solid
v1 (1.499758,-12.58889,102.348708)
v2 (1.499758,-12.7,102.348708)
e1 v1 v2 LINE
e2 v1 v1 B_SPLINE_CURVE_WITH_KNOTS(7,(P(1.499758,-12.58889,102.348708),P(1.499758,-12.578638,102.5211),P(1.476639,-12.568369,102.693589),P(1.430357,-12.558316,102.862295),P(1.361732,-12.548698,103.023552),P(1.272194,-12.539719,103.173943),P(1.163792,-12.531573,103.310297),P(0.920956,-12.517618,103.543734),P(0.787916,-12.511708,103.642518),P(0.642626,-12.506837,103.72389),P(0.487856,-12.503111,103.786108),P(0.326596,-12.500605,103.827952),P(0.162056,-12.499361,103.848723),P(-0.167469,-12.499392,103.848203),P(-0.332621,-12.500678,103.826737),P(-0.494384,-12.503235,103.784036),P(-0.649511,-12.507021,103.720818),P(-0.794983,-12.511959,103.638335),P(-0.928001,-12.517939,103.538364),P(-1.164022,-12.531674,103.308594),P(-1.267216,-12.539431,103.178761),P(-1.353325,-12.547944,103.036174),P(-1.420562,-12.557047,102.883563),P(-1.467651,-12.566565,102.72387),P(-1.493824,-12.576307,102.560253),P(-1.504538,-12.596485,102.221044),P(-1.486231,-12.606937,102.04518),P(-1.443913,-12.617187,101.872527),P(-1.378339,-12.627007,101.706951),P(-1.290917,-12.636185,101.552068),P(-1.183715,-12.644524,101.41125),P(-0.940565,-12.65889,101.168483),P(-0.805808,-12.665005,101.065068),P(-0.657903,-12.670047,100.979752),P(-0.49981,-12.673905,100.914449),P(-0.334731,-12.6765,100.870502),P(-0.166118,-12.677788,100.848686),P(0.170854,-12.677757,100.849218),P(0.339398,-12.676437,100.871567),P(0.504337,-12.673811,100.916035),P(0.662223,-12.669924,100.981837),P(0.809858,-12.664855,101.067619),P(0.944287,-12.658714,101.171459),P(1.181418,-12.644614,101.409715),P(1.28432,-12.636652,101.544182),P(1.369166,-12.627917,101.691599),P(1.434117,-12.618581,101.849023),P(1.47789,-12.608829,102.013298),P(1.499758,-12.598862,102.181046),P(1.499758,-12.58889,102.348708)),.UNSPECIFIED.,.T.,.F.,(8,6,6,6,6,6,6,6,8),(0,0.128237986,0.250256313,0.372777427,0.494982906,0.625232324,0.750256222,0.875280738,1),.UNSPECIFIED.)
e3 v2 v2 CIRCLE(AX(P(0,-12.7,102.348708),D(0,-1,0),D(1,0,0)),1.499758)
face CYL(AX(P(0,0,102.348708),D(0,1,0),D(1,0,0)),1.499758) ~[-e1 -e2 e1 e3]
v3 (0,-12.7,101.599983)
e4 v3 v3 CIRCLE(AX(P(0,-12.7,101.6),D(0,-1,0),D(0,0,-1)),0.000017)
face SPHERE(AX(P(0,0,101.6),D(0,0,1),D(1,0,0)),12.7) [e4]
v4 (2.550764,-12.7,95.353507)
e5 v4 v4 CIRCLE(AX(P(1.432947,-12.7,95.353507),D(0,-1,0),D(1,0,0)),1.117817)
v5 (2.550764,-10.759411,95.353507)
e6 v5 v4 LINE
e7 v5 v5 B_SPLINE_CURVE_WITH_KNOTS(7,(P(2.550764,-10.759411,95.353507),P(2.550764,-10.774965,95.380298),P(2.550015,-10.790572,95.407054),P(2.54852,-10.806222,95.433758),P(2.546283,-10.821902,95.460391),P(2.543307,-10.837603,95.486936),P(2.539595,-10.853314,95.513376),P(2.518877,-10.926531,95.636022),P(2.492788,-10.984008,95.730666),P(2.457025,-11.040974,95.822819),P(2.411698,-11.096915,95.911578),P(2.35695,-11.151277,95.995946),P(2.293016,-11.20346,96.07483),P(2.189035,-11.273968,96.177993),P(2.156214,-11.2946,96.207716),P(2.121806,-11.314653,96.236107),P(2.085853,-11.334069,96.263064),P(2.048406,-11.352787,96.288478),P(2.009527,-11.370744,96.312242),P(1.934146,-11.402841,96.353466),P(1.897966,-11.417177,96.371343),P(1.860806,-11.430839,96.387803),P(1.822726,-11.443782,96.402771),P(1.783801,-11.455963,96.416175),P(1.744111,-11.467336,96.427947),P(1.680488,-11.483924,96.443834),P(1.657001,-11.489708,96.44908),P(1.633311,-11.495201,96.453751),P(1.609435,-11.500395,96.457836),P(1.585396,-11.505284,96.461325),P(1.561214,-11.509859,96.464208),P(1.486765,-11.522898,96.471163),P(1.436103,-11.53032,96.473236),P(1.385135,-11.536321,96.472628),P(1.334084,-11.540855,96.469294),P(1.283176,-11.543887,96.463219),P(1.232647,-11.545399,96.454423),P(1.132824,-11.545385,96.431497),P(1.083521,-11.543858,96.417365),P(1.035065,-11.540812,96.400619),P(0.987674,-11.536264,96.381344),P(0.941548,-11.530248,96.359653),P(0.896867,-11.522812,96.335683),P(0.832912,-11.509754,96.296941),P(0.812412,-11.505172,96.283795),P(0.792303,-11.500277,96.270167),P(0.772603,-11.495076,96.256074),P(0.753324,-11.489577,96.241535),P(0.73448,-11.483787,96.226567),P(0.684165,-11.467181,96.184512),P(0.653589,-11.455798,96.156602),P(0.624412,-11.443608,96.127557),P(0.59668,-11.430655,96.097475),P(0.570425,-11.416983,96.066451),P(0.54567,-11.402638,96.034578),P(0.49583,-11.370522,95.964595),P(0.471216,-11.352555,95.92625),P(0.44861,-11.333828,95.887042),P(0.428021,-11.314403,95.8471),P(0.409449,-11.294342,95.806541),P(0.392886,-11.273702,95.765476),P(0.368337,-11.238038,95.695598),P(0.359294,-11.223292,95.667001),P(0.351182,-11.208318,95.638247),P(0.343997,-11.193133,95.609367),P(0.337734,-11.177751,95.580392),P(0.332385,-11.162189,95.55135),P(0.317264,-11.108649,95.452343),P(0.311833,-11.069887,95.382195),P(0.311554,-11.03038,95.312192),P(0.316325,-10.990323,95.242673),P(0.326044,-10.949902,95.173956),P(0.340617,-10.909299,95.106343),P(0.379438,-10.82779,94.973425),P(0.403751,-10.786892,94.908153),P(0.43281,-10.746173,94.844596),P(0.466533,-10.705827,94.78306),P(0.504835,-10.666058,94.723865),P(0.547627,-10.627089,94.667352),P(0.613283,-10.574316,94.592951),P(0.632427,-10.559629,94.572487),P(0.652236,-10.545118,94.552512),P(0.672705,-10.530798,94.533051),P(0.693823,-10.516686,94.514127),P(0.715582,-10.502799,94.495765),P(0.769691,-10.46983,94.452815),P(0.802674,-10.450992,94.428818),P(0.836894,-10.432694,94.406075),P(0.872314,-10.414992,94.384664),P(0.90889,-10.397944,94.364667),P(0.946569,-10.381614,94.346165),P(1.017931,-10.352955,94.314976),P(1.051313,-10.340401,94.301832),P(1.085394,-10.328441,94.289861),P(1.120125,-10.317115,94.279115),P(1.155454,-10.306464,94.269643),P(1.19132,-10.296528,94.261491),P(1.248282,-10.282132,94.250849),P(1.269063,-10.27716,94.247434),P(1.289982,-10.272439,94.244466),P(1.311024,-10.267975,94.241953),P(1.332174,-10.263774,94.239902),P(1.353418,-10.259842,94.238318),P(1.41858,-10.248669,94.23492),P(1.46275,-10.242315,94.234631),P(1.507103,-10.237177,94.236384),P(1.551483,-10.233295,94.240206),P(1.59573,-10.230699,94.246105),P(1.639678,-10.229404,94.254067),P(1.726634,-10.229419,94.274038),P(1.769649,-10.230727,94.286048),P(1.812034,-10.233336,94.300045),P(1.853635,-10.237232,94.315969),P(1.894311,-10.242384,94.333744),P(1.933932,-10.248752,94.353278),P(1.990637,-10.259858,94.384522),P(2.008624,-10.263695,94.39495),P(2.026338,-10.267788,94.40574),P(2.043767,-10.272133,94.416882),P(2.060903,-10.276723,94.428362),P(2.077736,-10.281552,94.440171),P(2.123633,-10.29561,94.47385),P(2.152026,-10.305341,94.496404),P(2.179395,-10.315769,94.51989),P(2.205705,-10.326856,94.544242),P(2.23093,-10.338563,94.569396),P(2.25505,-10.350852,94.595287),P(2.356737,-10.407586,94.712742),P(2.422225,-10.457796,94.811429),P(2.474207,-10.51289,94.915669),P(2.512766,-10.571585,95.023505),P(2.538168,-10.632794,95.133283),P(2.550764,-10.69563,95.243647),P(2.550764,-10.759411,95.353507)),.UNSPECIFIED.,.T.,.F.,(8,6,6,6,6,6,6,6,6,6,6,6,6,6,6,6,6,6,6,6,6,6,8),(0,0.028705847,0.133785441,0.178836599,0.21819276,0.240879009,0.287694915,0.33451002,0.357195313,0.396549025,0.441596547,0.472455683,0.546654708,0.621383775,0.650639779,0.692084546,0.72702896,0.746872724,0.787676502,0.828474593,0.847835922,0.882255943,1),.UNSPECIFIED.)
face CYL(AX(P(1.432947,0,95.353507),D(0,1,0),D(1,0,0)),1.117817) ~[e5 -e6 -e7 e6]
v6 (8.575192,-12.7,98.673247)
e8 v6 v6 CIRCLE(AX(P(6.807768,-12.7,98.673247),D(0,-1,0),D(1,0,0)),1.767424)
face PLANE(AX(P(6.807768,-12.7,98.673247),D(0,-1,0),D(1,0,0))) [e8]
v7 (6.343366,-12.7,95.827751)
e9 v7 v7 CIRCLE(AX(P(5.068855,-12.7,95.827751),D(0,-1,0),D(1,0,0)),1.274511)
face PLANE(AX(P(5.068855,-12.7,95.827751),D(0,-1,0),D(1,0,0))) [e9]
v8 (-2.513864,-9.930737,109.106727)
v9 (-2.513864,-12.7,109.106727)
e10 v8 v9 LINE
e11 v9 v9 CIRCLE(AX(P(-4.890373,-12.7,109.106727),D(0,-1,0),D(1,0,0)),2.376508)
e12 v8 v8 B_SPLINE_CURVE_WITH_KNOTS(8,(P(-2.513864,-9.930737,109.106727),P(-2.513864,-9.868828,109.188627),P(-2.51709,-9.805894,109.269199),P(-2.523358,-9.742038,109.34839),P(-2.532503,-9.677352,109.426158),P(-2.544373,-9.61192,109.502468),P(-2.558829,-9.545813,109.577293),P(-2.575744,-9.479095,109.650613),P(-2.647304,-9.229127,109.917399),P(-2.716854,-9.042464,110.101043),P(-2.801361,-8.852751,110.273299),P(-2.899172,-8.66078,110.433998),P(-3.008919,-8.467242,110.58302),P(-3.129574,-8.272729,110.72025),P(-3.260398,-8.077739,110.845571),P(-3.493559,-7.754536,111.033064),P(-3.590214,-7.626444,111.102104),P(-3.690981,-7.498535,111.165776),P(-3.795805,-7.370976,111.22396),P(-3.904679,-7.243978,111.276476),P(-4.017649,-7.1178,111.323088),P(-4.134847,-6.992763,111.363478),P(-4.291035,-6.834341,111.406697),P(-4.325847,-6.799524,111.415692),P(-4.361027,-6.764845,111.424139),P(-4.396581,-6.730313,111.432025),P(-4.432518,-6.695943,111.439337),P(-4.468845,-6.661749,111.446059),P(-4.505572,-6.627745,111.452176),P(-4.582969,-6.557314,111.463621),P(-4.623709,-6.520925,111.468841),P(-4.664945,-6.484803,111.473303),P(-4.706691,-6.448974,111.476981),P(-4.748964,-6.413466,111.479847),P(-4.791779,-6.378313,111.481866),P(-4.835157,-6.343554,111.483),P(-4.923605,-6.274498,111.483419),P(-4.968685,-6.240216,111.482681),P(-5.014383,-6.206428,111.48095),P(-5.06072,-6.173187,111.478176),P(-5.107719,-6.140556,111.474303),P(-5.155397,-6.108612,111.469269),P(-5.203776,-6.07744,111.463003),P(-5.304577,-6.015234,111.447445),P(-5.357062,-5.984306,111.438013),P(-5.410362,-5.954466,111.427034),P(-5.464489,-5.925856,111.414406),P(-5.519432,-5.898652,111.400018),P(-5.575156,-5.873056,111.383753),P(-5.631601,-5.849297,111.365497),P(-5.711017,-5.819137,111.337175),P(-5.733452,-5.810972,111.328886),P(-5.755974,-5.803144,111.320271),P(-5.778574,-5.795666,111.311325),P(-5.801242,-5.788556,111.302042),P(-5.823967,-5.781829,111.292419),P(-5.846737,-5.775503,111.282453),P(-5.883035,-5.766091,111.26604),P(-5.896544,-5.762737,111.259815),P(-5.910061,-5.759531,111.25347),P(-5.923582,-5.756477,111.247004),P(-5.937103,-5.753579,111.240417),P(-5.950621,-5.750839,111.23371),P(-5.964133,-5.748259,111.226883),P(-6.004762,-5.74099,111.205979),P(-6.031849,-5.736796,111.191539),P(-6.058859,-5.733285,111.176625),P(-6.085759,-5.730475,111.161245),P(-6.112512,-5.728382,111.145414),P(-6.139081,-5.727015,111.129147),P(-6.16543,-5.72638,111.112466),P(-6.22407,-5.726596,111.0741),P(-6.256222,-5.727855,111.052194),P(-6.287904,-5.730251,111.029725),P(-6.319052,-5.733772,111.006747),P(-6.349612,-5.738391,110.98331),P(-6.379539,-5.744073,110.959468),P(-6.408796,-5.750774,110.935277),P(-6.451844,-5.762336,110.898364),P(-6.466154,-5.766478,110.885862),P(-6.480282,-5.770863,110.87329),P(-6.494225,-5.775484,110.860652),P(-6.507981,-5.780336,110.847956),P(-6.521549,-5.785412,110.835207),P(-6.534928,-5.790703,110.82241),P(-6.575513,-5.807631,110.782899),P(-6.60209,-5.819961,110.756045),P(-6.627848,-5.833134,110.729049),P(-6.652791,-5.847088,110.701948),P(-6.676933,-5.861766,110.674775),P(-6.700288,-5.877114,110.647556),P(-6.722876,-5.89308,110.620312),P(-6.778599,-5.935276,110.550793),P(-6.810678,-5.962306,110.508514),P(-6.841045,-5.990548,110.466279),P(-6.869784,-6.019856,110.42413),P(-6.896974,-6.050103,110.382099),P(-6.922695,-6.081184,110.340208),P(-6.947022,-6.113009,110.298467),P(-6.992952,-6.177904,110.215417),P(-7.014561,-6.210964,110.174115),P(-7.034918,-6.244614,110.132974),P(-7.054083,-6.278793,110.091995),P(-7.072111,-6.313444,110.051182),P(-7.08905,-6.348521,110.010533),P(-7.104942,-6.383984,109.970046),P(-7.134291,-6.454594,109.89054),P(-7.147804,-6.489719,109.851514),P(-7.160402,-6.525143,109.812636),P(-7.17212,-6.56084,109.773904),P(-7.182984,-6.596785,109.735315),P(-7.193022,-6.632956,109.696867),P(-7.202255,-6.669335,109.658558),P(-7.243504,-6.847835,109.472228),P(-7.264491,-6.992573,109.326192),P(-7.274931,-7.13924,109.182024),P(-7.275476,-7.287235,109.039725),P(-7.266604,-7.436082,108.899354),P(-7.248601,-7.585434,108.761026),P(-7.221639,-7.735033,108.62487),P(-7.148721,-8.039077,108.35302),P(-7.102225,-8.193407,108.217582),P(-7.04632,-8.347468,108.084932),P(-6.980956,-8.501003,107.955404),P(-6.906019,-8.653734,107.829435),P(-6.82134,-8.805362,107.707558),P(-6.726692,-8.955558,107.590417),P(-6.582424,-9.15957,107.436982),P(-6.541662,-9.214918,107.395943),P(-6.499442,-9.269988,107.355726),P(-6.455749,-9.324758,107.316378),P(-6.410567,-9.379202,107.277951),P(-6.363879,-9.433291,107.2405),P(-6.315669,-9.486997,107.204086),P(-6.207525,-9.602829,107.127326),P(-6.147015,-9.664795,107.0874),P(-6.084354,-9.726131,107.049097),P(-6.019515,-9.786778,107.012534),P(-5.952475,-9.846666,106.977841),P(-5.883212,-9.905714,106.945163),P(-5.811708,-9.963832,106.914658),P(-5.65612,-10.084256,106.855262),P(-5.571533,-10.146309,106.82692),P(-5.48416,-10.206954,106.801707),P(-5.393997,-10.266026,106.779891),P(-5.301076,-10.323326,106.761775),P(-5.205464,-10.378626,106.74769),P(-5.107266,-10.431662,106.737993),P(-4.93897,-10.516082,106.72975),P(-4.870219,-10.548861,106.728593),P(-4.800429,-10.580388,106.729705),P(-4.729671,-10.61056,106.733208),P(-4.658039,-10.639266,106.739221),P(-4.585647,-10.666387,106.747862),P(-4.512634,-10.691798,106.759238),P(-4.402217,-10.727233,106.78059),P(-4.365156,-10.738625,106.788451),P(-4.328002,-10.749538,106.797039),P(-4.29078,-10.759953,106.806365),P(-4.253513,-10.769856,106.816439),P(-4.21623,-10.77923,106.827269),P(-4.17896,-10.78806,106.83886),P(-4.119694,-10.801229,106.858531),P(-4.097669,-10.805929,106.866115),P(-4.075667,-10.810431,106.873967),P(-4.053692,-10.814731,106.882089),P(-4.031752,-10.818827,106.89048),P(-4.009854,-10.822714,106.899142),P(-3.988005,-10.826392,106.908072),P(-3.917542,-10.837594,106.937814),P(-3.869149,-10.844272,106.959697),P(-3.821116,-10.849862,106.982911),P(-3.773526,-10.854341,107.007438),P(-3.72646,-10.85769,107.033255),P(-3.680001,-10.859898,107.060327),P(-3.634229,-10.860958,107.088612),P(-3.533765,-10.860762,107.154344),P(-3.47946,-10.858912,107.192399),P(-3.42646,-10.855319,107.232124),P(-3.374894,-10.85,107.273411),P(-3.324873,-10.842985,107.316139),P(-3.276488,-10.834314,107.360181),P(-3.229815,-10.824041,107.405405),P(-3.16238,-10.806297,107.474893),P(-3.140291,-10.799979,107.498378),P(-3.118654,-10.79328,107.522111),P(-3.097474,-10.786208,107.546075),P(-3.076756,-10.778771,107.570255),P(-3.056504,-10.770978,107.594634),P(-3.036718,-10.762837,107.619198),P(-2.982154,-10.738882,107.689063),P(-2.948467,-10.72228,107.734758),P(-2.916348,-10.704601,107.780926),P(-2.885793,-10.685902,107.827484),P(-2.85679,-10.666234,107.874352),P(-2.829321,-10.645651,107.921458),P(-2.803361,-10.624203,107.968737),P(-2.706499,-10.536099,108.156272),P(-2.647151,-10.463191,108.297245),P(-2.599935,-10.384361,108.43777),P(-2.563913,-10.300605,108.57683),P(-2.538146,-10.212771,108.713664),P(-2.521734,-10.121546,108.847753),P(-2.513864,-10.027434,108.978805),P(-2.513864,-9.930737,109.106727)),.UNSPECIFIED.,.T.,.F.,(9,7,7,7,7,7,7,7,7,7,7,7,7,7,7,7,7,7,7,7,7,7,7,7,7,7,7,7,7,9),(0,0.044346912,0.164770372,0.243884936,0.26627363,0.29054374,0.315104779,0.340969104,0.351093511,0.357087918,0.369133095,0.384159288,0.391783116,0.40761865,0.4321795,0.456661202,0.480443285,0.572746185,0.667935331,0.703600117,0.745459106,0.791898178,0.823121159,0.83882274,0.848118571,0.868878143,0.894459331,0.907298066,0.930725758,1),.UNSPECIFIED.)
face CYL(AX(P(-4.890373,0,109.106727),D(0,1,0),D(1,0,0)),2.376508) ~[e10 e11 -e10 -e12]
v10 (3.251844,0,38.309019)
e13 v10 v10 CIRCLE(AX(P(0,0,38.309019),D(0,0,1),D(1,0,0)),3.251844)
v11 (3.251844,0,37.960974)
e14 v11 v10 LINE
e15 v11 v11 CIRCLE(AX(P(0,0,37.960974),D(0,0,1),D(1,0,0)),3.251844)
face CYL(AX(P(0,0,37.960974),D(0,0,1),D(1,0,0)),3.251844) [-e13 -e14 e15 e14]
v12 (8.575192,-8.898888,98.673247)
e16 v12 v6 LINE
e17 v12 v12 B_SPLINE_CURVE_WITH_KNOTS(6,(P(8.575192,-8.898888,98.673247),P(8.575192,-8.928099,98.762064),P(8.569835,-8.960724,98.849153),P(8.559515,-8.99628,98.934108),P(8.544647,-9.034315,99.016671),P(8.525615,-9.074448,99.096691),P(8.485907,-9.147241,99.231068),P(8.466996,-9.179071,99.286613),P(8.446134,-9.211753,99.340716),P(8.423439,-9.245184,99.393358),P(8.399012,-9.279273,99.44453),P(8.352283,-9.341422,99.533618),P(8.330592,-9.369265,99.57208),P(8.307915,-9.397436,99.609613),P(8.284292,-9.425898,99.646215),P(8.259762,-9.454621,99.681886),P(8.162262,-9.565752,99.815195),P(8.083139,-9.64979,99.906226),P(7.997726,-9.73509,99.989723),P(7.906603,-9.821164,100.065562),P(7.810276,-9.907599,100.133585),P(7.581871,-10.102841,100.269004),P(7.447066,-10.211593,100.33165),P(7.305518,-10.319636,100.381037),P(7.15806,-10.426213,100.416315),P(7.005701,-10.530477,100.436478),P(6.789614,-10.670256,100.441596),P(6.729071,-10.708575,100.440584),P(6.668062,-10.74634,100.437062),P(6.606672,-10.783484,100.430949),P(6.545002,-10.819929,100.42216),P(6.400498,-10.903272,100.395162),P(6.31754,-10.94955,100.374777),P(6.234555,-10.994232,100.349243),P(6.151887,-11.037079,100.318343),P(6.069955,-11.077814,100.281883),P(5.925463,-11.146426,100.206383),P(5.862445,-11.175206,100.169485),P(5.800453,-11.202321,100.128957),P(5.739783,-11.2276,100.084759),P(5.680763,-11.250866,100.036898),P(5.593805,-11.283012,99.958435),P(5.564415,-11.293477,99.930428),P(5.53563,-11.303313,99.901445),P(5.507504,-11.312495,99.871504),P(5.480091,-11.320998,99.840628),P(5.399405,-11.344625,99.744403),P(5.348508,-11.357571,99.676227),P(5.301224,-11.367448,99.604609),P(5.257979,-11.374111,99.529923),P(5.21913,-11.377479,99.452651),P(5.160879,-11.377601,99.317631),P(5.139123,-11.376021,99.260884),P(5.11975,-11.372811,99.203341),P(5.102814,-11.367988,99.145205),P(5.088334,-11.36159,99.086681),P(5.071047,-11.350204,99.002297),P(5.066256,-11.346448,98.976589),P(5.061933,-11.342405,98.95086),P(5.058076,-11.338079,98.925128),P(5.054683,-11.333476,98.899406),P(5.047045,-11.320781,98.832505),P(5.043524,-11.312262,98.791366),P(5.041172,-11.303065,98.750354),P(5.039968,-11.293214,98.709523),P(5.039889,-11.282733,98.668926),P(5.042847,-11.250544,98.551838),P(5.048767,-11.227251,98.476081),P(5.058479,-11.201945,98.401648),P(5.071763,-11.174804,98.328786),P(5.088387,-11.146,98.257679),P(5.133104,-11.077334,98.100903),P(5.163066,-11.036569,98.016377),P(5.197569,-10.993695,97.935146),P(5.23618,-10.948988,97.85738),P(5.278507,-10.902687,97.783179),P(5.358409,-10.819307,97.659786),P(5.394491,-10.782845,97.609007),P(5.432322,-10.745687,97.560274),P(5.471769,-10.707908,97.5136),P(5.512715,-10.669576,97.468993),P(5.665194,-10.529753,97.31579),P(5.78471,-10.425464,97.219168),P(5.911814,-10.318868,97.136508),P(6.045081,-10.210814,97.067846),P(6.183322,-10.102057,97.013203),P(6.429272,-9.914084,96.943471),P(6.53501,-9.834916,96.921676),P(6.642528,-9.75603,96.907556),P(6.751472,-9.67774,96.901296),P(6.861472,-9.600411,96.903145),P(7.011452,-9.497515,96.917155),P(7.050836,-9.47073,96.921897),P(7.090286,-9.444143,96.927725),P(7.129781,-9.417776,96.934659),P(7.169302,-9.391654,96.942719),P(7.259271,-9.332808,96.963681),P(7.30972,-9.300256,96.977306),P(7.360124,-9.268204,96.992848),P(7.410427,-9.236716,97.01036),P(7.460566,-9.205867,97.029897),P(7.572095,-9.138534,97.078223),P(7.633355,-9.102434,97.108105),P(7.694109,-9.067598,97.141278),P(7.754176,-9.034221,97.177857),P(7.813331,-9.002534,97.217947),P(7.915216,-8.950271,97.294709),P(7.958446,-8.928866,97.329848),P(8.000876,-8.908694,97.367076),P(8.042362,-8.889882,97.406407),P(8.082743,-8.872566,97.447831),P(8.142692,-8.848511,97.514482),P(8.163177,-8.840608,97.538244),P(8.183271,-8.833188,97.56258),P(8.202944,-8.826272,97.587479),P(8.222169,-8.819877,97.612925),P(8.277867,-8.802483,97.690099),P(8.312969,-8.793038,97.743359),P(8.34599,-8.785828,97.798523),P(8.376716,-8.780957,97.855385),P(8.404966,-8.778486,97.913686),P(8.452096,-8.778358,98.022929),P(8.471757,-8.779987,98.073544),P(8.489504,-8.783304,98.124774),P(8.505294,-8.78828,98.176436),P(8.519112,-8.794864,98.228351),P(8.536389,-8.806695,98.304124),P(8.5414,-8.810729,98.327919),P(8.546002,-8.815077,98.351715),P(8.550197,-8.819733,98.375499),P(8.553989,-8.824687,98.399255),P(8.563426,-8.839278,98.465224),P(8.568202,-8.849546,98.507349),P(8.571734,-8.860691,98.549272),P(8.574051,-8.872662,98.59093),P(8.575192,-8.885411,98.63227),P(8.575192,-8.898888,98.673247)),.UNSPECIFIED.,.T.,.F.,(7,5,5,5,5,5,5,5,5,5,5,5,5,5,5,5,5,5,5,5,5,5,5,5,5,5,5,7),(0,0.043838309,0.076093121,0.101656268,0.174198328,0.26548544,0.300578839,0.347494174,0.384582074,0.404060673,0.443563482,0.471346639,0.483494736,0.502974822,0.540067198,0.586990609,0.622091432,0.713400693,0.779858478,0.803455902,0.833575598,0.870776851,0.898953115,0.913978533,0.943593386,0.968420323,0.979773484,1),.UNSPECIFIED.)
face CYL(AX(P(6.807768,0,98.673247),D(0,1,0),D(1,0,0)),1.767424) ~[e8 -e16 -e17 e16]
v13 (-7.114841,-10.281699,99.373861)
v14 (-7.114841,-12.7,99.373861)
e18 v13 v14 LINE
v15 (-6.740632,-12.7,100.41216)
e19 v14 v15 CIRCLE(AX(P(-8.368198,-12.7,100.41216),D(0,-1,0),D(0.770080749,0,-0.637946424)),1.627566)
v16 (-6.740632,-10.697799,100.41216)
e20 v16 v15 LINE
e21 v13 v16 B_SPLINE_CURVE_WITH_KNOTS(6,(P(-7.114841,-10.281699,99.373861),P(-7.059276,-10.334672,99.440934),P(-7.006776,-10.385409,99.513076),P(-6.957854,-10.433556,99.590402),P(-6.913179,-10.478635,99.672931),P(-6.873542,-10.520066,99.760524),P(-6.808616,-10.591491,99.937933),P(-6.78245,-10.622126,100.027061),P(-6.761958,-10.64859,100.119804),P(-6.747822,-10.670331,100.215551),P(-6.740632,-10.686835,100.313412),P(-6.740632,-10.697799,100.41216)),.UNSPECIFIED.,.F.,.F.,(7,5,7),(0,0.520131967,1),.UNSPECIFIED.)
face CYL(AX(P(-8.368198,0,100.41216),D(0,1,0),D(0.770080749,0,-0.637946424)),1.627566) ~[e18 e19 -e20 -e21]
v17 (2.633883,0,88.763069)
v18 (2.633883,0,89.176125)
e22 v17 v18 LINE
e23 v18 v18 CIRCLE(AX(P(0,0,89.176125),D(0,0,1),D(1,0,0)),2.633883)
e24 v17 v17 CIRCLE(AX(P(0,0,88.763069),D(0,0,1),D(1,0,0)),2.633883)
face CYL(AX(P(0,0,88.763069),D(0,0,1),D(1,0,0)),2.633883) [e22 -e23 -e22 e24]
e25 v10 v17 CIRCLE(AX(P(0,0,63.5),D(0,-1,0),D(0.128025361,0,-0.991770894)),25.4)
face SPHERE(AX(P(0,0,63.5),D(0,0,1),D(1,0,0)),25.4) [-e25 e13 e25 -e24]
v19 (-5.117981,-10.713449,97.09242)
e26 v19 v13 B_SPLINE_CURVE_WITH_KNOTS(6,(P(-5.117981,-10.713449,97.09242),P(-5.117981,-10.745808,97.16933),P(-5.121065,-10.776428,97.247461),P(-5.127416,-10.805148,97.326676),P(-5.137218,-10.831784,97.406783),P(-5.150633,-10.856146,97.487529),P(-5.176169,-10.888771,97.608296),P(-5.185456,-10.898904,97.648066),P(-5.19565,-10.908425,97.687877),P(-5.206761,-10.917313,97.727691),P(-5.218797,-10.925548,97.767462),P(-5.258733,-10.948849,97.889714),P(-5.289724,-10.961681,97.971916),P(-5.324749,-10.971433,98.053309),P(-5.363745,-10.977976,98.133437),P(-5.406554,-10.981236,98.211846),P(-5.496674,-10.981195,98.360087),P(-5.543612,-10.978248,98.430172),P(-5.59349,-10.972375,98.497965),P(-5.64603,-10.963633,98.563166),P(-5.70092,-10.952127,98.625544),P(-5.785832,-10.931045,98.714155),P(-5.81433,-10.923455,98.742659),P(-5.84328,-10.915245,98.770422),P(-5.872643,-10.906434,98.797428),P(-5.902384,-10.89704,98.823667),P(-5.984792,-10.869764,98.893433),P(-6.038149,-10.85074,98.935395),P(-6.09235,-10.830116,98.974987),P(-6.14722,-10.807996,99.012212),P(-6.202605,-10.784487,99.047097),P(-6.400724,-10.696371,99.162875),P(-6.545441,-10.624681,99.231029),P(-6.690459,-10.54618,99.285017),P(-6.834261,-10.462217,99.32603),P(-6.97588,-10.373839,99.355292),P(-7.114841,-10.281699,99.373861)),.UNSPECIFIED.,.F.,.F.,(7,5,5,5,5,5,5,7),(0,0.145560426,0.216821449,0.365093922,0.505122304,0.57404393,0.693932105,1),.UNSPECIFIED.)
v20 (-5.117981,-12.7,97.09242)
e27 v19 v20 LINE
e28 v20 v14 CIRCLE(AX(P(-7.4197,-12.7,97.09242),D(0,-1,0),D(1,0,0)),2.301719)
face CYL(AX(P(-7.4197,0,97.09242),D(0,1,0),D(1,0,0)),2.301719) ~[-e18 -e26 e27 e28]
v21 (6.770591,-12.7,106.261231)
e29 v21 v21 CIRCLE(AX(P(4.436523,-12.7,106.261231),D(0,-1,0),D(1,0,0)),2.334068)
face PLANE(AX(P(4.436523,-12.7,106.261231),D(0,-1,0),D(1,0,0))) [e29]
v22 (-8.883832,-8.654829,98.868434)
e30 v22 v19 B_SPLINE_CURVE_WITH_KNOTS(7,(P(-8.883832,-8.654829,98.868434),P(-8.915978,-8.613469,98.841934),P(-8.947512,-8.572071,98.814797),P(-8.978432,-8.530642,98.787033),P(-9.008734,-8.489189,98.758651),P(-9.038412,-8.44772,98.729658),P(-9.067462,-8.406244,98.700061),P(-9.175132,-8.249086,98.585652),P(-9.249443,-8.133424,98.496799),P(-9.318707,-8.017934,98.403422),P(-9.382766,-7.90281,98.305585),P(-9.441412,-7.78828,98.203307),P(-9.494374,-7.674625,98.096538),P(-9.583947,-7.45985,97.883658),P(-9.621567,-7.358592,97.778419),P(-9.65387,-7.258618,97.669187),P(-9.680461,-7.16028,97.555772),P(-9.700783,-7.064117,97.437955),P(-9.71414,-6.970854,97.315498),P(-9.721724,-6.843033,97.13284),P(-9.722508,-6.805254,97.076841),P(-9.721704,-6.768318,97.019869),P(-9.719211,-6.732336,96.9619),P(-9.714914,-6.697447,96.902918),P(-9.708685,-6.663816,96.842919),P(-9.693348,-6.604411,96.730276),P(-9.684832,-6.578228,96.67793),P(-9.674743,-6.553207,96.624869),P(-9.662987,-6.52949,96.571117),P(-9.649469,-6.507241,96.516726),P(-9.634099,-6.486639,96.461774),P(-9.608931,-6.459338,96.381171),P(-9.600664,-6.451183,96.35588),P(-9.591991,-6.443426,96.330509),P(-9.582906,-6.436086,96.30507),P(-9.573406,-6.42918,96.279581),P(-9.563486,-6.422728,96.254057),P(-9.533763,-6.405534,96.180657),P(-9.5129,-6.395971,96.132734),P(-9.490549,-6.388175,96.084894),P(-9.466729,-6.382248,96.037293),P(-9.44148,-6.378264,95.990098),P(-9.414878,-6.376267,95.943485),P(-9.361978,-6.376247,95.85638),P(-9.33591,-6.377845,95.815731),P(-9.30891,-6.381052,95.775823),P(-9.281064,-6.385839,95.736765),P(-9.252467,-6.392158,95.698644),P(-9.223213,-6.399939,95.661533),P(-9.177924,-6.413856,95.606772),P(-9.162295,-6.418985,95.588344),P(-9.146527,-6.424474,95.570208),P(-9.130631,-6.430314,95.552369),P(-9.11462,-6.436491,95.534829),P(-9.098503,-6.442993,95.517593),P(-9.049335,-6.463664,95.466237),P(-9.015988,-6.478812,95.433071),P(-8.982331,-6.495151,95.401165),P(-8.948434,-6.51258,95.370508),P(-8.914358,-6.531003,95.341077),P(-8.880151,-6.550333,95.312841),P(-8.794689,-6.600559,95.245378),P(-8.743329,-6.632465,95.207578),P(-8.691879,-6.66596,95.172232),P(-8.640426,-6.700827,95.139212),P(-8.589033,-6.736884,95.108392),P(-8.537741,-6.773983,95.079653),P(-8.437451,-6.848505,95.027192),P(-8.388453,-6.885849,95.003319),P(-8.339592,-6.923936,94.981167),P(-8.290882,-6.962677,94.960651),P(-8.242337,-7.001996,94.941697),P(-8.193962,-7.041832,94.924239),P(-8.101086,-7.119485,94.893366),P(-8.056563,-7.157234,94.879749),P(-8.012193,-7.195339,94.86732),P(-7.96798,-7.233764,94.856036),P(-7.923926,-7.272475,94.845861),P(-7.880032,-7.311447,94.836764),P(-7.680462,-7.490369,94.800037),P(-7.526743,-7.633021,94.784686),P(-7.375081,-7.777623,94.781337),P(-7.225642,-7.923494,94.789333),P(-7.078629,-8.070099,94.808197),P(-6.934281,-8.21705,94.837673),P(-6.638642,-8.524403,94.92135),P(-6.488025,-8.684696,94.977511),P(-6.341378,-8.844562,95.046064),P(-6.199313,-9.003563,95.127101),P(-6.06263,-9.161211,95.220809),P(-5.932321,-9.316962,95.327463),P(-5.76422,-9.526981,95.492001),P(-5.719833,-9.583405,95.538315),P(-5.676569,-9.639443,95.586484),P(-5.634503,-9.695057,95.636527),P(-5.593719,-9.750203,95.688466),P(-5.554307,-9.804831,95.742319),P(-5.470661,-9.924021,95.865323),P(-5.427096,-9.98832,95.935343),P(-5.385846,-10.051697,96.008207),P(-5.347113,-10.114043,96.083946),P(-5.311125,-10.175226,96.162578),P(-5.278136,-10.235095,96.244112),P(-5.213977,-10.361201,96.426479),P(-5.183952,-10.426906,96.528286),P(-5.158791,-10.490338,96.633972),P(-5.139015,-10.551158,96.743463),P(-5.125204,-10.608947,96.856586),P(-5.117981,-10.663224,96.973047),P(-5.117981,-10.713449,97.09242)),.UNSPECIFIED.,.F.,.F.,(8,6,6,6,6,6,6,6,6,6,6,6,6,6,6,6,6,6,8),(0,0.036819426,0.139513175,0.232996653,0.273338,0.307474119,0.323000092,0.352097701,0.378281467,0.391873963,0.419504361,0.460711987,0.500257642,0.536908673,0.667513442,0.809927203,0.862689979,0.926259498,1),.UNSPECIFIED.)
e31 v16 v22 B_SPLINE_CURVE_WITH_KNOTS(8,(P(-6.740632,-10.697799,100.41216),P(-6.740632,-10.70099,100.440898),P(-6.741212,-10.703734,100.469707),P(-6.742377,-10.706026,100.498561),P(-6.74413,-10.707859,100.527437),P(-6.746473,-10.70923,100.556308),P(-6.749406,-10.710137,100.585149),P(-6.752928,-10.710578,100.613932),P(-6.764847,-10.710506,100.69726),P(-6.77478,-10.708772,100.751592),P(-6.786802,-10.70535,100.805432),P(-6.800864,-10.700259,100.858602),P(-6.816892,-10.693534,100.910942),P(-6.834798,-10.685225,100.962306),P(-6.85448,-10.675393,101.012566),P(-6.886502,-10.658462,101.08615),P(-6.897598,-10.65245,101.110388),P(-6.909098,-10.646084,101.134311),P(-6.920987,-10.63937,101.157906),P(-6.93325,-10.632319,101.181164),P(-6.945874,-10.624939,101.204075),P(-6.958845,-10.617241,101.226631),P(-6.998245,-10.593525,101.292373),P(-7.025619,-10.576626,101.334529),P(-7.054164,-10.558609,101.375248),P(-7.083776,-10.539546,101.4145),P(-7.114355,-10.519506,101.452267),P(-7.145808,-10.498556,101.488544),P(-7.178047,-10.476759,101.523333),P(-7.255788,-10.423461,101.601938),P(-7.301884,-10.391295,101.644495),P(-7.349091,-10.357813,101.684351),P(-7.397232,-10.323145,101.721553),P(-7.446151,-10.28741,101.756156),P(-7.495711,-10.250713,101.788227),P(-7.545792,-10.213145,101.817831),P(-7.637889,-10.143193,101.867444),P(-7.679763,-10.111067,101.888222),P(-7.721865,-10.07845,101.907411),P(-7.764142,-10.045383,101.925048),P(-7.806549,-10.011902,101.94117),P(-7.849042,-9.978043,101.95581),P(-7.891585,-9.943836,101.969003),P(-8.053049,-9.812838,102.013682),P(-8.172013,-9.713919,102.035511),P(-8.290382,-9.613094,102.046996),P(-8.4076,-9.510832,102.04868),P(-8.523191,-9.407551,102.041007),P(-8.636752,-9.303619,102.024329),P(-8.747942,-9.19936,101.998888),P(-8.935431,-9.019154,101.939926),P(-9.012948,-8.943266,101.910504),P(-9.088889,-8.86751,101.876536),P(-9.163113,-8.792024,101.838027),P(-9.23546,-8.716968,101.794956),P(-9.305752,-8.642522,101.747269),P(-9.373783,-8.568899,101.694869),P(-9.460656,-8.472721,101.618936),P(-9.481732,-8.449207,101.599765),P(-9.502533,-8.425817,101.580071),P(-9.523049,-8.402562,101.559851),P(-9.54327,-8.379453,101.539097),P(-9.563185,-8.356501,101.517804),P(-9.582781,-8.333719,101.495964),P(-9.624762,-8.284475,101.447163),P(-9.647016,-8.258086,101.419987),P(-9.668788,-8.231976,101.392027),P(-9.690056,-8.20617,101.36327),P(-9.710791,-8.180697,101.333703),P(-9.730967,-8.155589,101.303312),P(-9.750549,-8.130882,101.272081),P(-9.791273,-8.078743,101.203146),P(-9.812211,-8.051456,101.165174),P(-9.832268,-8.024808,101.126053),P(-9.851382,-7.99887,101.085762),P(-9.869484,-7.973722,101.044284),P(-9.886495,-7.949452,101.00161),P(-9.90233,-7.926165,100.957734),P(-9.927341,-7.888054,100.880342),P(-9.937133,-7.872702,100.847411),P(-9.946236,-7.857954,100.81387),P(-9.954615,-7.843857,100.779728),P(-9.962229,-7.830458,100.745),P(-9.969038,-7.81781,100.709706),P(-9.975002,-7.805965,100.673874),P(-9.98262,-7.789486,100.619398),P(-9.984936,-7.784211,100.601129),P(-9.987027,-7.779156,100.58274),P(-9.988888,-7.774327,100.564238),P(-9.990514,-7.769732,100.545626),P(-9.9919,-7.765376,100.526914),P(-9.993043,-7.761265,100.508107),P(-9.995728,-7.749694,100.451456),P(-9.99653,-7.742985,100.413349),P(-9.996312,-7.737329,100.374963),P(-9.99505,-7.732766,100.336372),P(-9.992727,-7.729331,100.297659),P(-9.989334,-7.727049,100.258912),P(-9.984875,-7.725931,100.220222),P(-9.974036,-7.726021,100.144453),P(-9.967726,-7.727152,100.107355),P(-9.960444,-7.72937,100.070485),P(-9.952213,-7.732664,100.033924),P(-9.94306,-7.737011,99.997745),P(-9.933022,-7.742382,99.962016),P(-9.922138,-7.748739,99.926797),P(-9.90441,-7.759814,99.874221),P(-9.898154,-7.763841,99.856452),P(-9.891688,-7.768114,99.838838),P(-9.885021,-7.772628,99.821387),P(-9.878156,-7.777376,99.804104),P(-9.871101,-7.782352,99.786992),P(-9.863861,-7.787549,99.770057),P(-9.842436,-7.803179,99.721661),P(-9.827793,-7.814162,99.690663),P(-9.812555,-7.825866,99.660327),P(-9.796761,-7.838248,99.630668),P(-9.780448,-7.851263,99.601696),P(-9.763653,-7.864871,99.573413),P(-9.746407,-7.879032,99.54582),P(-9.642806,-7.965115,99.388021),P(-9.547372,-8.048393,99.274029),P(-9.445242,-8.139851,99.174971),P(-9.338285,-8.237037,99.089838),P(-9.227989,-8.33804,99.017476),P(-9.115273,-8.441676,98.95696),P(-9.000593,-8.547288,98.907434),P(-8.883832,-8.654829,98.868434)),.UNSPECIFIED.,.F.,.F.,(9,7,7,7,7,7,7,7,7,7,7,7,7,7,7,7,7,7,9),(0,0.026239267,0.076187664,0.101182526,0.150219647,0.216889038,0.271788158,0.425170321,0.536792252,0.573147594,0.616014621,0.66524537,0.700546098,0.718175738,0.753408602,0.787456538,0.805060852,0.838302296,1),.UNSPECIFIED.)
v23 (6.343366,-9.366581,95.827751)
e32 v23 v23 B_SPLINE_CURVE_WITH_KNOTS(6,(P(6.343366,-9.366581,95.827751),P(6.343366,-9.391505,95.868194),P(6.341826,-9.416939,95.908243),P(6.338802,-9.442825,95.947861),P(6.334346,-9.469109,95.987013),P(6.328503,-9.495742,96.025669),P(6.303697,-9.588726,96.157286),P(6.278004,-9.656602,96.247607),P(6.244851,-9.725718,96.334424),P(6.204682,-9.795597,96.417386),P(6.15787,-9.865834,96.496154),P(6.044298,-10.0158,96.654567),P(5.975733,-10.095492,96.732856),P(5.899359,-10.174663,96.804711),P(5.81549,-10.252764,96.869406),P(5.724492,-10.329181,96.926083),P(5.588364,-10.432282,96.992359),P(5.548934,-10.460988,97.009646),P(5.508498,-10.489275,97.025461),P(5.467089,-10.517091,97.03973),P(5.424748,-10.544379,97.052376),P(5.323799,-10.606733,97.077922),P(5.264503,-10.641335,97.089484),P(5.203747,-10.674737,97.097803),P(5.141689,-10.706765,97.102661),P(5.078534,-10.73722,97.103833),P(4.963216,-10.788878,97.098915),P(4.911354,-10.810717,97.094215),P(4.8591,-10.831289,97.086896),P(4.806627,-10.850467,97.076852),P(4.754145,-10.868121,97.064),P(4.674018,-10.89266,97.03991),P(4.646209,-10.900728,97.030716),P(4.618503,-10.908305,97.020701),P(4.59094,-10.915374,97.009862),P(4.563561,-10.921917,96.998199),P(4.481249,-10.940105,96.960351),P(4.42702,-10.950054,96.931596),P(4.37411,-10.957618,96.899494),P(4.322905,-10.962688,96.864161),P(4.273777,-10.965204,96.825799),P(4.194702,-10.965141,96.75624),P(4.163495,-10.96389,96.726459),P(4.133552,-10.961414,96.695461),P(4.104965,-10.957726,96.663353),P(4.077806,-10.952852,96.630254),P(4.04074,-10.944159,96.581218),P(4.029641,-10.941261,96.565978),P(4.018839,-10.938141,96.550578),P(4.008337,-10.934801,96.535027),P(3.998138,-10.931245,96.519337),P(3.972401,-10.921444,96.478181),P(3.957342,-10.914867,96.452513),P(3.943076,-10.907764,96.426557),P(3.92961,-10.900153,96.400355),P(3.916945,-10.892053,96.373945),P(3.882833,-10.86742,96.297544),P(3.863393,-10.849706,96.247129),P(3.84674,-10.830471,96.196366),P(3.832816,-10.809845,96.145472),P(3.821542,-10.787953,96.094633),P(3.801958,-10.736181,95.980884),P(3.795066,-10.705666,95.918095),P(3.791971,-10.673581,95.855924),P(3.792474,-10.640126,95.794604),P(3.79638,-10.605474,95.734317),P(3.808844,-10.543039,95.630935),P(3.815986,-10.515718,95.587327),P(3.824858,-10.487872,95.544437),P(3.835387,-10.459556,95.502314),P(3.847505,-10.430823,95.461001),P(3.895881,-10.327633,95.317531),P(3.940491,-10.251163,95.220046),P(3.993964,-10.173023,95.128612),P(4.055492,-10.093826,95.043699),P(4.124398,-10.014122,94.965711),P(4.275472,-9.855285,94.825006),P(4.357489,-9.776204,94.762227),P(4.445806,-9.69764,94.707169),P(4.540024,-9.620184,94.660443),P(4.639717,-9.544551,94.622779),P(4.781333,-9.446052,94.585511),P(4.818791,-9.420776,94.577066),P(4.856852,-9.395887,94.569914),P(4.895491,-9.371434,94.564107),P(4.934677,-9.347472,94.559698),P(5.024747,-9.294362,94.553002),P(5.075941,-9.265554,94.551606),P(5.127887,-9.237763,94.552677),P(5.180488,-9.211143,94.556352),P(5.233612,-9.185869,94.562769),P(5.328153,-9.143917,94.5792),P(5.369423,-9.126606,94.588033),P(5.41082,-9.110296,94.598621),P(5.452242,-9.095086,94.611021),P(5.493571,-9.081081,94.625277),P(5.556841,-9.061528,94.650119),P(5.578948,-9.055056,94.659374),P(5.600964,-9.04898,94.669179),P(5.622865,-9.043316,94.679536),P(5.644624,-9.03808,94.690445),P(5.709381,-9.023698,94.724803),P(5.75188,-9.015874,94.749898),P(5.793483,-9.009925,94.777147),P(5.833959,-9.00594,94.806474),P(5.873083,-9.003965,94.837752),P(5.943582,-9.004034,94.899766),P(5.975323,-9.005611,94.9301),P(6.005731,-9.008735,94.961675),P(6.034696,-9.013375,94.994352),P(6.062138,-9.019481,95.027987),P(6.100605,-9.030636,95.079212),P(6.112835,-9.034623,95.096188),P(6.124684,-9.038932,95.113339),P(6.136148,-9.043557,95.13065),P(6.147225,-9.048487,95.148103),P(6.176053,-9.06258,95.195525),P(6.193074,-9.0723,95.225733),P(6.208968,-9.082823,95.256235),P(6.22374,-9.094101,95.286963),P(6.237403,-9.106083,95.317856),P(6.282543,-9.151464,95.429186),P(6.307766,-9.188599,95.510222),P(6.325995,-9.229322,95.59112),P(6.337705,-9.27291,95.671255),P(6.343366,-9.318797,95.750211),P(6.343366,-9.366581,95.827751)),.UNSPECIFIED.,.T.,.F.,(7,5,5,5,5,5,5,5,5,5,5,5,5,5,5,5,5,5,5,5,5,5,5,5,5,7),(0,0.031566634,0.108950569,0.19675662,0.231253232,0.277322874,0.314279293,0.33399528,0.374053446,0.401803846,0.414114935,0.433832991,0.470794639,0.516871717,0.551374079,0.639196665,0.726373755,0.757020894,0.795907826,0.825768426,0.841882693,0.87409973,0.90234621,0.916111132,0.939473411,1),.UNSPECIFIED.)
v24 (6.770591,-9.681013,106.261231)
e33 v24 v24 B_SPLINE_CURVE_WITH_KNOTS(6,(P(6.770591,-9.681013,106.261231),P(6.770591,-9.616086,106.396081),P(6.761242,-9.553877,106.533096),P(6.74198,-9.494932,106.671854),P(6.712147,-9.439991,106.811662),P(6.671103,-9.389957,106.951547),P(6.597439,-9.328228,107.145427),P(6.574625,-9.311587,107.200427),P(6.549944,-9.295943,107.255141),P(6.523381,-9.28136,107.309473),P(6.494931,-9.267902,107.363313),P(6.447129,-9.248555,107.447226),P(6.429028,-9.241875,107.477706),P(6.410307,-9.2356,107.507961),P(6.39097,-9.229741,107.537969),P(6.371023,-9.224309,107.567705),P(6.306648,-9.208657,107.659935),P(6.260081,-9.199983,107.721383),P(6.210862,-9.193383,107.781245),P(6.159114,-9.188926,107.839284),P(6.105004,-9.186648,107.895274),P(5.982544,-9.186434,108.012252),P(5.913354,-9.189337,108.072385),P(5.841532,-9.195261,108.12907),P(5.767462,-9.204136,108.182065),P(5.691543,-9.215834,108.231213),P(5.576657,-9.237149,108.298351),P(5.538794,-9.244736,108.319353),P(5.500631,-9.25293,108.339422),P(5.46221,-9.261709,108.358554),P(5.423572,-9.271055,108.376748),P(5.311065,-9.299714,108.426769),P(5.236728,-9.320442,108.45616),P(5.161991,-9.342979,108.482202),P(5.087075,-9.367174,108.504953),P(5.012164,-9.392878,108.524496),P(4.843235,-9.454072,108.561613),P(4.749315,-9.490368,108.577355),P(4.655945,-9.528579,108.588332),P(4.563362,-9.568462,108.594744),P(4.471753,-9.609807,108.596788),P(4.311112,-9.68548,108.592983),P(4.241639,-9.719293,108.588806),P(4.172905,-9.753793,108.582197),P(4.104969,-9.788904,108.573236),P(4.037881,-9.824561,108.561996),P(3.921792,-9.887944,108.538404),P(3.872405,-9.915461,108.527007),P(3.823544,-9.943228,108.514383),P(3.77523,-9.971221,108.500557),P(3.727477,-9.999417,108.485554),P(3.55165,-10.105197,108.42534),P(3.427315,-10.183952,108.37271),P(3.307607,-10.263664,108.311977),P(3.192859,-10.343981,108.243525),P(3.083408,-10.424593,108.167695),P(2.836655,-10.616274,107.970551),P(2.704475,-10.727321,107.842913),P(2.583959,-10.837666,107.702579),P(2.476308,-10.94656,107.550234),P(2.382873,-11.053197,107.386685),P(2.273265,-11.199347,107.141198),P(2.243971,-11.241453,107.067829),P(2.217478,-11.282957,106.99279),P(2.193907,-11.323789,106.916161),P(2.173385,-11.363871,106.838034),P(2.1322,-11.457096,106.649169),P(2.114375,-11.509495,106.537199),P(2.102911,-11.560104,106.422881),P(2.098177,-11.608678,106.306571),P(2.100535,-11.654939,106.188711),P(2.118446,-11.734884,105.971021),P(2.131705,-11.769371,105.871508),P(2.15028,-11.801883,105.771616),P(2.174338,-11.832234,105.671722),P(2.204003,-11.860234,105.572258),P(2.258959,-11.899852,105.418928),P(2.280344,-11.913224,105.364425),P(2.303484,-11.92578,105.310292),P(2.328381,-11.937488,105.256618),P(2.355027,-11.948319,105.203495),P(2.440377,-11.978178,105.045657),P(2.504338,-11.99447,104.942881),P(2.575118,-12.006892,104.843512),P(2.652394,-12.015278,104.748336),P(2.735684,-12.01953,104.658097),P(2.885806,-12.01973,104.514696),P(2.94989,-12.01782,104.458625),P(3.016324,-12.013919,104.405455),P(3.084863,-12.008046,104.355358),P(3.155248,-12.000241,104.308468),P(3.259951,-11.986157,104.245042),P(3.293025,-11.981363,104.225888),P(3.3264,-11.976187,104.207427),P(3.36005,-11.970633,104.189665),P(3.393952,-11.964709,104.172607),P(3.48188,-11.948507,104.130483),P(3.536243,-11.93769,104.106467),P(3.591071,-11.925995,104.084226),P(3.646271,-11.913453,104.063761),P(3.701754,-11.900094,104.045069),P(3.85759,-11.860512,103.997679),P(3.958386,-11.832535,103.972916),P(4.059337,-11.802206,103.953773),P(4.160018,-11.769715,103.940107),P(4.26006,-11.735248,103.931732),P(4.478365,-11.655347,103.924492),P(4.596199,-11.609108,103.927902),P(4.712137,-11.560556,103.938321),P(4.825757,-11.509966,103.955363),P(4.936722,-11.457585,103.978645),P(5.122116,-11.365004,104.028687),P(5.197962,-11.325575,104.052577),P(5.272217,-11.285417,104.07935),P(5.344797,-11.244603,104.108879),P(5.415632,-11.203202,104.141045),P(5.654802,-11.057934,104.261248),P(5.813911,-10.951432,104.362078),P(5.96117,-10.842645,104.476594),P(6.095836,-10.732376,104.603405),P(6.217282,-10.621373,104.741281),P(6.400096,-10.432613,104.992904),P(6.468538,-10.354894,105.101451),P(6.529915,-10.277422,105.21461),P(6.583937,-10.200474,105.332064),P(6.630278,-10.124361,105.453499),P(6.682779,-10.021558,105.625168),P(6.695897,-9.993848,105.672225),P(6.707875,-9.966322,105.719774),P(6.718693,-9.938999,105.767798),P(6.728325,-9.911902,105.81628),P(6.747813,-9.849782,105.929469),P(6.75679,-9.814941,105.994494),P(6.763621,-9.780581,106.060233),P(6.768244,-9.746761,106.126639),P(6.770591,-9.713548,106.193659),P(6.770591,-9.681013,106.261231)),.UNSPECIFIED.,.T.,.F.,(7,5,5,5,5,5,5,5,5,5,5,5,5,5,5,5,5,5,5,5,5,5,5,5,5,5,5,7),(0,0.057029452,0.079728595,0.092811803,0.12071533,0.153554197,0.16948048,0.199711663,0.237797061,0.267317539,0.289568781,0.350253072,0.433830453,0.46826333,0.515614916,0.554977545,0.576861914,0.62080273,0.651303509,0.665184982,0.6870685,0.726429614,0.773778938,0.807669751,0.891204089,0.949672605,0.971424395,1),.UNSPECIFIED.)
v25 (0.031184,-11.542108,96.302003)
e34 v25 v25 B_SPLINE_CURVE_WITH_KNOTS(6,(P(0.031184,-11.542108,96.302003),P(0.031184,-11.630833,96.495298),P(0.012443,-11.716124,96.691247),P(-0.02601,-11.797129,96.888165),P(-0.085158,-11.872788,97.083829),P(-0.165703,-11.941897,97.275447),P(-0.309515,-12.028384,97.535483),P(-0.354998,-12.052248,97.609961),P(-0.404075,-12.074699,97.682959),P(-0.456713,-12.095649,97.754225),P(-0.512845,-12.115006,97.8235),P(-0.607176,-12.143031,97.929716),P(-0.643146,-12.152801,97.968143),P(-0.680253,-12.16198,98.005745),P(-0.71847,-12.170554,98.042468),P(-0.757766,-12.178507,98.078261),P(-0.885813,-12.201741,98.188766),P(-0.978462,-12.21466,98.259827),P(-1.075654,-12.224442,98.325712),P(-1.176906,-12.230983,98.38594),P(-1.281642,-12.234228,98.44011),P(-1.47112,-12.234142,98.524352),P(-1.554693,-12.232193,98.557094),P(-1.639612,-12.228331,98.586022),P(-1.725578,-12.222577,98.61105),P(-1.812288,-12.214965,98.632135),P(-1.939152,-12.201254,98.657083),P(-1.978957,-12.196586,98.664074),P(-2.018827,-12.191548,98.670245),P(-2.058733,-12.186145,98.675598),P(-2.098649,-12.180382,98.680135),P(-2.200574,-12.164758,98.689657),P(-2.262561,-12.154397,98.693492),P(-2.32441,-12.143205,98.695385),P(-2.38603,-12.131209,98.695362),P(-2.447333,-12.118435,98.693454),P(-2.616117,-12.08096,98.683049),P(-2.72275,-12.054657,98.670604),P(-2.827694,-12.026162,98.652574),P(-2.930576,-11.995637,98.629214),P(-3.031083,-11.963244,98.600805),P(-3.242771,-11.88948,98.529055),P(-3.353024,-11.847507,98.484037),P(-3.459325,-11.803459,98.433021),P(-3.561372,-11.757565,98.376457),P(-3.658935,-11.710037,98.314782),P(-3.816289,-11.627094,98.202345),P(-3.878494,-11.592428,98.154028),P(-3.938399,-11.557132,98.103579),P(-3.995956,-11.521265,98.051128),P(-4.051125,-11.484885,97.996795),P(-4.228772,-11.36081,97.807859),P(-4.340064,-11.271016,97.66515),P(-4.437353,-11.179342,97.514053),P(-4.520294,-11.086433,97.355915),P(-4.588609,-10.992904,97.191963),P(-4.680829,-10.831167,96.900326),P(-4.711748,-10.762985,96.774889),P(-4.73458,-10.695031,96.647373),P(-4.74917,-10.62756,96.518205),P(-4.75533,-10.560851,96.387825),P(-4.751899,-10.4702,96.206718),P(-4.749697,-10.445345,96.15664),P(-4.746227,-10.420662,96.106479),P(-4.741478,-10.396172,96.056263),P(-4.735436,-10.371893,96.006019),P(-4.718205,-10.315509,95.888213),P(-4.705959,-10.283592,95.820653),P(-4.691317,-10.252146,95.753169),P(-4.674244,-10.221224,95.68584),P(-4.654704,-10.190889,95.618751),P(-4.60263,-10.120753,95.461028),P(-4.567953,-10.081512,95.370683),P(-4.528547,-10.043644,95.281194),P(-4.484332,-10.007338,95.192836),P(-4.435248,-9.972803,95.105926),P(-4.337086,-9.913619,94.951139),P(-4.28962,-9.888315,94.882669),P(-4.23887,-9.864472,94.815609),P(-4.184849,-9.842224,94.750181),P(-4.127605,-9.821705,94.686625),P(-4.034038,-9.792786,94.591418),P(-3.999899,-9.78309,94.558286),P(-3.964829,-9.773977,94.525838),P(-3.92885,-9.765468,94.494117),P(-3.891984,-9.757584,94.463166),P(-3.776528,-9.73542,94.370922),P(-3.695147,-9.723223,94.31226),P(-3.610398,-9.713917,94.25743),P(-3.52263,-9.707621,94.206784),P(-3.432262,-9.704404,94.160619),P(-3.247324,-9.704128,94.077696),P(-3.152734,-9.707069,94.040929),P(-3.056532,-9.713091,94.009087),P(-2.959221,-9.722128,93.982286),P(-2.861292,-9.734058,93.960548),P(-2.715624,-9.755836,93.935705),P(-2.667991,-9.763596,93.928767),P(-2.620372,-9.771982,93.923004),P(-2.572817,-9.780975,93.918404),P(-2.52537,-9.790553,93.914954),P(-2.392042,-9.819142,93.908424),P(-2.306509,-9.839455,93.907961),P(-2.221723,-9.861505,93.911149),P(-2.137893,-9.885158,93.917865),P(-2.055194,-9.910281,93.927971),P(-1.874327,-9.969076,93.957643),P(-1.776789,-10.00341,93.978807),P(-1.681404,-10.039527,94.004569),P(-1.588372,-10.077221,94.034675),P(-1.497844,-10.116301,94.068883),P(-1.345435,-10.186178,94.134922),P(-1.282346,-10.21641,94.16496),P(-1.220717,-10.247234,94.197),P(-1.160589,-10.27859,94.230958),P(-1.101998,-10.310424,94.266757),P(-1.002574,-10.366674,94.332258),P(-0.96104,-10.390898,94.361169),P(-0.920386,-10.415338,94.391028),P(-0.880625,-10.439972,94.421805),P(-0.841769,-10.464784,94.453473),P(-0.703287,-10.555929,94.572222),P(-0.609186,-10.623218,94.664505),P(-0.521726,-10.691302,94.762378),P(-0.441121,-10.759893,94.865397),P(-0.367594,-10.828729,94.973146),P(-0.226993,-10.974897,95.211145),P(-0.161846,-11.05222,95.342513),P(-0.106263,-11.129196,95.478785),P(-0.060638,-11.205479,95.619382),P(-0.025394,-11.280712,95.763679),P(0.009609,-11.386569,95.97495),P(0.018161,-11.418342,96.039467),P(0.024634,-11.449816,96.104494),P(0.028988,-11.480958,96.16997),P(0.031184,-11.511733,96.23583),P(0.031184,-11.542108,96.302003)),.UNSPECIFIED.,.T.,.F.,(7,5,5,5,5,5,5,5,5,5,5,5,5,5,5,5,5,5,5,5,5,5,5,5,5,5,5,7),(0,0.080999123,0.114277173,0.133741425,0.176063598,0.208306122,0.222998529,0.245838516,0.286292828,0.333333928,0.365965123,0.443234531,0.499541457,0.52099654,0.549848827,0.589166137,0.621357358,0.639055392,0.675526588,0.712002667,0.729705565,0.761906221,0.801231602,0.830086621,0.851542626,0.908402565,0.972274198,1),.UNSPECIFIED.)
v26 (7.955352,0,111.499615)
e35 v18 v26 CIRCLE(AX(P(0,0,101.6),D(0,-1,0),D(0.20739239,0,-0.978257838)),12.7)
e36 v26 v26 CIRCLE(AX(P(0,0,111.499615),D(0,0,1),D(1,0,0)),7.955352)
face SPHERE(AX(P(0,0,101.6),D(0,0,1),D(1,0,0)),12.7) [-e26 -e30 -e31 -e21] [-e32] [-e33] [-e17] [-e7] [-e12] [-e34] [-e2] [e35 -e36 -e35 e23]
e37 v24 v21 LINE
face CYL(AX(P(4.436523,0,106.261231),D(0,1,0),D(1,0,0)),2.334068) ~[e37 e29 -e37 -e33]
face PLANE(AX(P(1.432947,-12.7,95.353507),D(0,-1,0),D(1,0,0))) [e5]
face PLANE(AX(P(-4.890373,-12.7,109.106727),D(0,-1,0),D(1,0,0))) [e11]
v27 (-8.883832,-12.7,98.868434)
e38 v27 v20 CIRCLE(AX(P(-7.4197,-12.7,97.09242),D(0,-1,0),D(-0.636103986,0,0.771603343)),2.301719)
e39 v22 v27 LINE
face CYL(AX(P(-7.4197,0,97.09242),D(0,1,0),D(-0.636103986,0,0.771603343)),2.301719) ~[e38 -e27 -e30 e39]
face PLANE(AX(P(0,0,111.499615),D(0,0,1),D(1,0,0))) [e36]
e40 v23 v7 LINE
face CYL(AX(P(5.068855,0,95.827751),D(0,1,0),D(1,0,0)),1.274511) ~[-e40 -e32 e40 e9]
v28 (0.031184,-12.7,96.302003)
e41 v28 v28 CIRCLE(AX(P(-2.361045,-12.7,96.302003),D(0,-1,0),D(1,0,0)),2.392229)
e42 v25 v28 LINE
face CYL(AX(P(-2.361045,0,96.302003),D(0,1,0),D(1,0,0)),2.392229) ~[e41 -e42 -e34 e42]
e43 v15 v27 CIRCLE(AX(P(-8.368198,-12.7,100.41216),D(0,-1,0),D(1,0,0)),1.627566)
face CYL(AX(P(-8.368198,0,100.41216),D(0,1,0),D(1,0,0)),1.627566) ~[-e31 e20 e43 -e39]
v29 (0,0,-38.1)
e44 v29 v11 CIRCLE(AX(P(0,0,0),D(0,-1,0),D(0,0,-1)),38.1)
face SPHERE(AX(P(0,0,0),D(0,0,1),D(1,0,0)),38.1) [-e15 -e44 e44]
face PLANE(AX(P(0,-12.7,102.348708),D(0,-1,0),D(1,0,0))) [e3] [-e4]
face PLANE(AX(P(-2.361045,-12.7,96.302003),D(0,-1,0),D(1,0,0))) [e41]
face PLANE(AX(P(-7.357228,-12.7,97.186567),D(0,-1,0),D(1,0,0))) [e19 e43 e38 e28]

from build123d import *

# Parameters (mm, degrees)
F2_R     = 2.3340680492
F2_R_2   = 2.3765081856
F2_R_3   = 1.2745108739
F2_R_4   = 1.1178169875
F2_R_5   = 2.3922293989
F2_R_6   = 1.767423745
F3_DEPTH = 12.7
F4_R     = 1.4997579314
F5_DEPTH = 12.7


with BuildPart() as f1:
    # F0 (on Front) → F1 (revolve)
    with BuildSketch(Plane.XZ):
        with BuildLine():
            Line((0, 101.6), (0, 88.9))
            ThreePointArc((0, 88.9), (1.3241588609, 88.9692200038), (2.6338833467, 89.1761254628))
            ThreePointArc((2.6338833467, 89.1761254628), (12.3538464369, 98.6550928344), (7.9553518202, 111.4996150136))
            Line((7.9553518202, 111.4996150136), (0, 111.4996150136))
            Line((0, 111.4996150136), (0, 101.6))
        make_face()
        with BuildLine():
            Line((0, 63.5), (0, 38.1))
            ThreePointArc((0, 38.1), (1.6292774194, 38.1523086832), (3.2518441808, 38.3090192842))
            ThreePointArc((3.2518441808, 38.3090192842), (25.3980950451, 63.8110756831), (2.6338833467, 88.7630690637))
            ThreePointArc((2.6338833467, 88.7630690637), (1.3187201717, 88.8657441663), (0, 88.9))
            Line((0, 88.9), (0, 63.5))
        make_face()
        with BuildLine():
            Line((0, 0), (0, -38.1))
            ThreePointArc((0, -38.1), (38.0652275084, -1.6274073662), (3.2518441808, 37.9609735047))
            ThreePointArc((3.2518441808, 37.9609735047), (1.6274073662, 38.0652275084), (0, 38.1))
            Line((0, 38.1), (0, 0))
        make_face()
        with BuildLine():
            ThreePointArc((0, 38.1), (1.6274073662, 38.0652275084), (3.2518441808, 37.9609735047))
            Line((3.2518441808, 37.9609735047), (3.2518441808, 38.3090192842))
            ThreePointArc((3.2518441808, 38.3090192842), (1.6292774194, 38.1523086832), (0, 38.1))
        make_face()
        with BuildLine():
            ThreePointArc((0, 88.9), (1.3187201717, 88.8657441663), (2.6338833467, 88.7630690637))
            Line((2.6338833467, 88.7630690637), (2.6338833467, 89.1761254628))
            ThreePointArc((2.6338833467, 89.1761254628), (1.3241588609, 88.9692200038), (0, 88.9))
        make_face()
    revolve(axis=Axis((0, 0, 82.55), (0, 0, 1)))

    # F2 (on Front) → F3 (join)
    with BuildSketch(Plane.XZ):
        with Locations((4.4365231879, 106.2612310052)):
            Circle(F2_R)
        with Locations((-4.890372511, 109.1067269444)):
            Circle(F2_R_2)
        with Locations((5.0688553602, 95.8277508616)):
            Circle(F2_R_3)
        with Locations((1.4329472324, 95.3535065055)):
            Circle(F2_R_4)
        with Locations((-2.361045219, 96.3020026684)):
            Circle(F2_R_5)
        with BuildLine():
            ThreePointArc((-8.8838324472, 98.8684339538), (-8.4015064273, 95.0106018582), (-5.117980782, 97.0924198627))
            ThreePointArc((-5.117980782, 97.0924198627), (-5.6877052972, 98.6083702193), (-7.1148409223, 99.3738605292))
            ThreePointArc((-7.1148409223, 99.3738605292), (-7.9210708341, 98.8472169947), (-8.8838324472, 98.8684339538))
        make_face()
        with BuildLine():
            ThreePointArc((-8.8838324472, 98.8684339538), (-7.9210708341, 98.8472169947), (-7.1148409223, 99.3738605292))
            ThreePointArc((-7.1148409223, 99.3738605292), (-8.0520311406, 99.3055776816), (-8.8838324472, 98.8684339538))
        make_face()
        with BuildLine():
            ThreePointArc((-8.8838324472, 98.8684339538), (-8.0520311406, 99.3055776816), (-7.1148409223, 99.3738605292))
            ThreePointArc((-7.1148409223, 99.3738605292), (-6.8370397391, 99.8603227191), (-6.740632268, 100.4121601582))
            ThreePointArc((-6.740632268, 100.4121601582), (-9.3194445123, 101.7328037136), (-8.8838324472, 98.8684339538))
        make_face()
        with Locations((6.8077677861, 98.6732468009)):
            Circle(F2_R_6)
    extrude(amount=F3_DEPTH)

    # F4 (on Front) → F5 (join)
    with BuildSketch(Plane.XZ):
        with Locations((0, 102.3487076163)):
            Circle(F4_R)
    extrude(amount=F5_DEPTH)


solid = f1.part
